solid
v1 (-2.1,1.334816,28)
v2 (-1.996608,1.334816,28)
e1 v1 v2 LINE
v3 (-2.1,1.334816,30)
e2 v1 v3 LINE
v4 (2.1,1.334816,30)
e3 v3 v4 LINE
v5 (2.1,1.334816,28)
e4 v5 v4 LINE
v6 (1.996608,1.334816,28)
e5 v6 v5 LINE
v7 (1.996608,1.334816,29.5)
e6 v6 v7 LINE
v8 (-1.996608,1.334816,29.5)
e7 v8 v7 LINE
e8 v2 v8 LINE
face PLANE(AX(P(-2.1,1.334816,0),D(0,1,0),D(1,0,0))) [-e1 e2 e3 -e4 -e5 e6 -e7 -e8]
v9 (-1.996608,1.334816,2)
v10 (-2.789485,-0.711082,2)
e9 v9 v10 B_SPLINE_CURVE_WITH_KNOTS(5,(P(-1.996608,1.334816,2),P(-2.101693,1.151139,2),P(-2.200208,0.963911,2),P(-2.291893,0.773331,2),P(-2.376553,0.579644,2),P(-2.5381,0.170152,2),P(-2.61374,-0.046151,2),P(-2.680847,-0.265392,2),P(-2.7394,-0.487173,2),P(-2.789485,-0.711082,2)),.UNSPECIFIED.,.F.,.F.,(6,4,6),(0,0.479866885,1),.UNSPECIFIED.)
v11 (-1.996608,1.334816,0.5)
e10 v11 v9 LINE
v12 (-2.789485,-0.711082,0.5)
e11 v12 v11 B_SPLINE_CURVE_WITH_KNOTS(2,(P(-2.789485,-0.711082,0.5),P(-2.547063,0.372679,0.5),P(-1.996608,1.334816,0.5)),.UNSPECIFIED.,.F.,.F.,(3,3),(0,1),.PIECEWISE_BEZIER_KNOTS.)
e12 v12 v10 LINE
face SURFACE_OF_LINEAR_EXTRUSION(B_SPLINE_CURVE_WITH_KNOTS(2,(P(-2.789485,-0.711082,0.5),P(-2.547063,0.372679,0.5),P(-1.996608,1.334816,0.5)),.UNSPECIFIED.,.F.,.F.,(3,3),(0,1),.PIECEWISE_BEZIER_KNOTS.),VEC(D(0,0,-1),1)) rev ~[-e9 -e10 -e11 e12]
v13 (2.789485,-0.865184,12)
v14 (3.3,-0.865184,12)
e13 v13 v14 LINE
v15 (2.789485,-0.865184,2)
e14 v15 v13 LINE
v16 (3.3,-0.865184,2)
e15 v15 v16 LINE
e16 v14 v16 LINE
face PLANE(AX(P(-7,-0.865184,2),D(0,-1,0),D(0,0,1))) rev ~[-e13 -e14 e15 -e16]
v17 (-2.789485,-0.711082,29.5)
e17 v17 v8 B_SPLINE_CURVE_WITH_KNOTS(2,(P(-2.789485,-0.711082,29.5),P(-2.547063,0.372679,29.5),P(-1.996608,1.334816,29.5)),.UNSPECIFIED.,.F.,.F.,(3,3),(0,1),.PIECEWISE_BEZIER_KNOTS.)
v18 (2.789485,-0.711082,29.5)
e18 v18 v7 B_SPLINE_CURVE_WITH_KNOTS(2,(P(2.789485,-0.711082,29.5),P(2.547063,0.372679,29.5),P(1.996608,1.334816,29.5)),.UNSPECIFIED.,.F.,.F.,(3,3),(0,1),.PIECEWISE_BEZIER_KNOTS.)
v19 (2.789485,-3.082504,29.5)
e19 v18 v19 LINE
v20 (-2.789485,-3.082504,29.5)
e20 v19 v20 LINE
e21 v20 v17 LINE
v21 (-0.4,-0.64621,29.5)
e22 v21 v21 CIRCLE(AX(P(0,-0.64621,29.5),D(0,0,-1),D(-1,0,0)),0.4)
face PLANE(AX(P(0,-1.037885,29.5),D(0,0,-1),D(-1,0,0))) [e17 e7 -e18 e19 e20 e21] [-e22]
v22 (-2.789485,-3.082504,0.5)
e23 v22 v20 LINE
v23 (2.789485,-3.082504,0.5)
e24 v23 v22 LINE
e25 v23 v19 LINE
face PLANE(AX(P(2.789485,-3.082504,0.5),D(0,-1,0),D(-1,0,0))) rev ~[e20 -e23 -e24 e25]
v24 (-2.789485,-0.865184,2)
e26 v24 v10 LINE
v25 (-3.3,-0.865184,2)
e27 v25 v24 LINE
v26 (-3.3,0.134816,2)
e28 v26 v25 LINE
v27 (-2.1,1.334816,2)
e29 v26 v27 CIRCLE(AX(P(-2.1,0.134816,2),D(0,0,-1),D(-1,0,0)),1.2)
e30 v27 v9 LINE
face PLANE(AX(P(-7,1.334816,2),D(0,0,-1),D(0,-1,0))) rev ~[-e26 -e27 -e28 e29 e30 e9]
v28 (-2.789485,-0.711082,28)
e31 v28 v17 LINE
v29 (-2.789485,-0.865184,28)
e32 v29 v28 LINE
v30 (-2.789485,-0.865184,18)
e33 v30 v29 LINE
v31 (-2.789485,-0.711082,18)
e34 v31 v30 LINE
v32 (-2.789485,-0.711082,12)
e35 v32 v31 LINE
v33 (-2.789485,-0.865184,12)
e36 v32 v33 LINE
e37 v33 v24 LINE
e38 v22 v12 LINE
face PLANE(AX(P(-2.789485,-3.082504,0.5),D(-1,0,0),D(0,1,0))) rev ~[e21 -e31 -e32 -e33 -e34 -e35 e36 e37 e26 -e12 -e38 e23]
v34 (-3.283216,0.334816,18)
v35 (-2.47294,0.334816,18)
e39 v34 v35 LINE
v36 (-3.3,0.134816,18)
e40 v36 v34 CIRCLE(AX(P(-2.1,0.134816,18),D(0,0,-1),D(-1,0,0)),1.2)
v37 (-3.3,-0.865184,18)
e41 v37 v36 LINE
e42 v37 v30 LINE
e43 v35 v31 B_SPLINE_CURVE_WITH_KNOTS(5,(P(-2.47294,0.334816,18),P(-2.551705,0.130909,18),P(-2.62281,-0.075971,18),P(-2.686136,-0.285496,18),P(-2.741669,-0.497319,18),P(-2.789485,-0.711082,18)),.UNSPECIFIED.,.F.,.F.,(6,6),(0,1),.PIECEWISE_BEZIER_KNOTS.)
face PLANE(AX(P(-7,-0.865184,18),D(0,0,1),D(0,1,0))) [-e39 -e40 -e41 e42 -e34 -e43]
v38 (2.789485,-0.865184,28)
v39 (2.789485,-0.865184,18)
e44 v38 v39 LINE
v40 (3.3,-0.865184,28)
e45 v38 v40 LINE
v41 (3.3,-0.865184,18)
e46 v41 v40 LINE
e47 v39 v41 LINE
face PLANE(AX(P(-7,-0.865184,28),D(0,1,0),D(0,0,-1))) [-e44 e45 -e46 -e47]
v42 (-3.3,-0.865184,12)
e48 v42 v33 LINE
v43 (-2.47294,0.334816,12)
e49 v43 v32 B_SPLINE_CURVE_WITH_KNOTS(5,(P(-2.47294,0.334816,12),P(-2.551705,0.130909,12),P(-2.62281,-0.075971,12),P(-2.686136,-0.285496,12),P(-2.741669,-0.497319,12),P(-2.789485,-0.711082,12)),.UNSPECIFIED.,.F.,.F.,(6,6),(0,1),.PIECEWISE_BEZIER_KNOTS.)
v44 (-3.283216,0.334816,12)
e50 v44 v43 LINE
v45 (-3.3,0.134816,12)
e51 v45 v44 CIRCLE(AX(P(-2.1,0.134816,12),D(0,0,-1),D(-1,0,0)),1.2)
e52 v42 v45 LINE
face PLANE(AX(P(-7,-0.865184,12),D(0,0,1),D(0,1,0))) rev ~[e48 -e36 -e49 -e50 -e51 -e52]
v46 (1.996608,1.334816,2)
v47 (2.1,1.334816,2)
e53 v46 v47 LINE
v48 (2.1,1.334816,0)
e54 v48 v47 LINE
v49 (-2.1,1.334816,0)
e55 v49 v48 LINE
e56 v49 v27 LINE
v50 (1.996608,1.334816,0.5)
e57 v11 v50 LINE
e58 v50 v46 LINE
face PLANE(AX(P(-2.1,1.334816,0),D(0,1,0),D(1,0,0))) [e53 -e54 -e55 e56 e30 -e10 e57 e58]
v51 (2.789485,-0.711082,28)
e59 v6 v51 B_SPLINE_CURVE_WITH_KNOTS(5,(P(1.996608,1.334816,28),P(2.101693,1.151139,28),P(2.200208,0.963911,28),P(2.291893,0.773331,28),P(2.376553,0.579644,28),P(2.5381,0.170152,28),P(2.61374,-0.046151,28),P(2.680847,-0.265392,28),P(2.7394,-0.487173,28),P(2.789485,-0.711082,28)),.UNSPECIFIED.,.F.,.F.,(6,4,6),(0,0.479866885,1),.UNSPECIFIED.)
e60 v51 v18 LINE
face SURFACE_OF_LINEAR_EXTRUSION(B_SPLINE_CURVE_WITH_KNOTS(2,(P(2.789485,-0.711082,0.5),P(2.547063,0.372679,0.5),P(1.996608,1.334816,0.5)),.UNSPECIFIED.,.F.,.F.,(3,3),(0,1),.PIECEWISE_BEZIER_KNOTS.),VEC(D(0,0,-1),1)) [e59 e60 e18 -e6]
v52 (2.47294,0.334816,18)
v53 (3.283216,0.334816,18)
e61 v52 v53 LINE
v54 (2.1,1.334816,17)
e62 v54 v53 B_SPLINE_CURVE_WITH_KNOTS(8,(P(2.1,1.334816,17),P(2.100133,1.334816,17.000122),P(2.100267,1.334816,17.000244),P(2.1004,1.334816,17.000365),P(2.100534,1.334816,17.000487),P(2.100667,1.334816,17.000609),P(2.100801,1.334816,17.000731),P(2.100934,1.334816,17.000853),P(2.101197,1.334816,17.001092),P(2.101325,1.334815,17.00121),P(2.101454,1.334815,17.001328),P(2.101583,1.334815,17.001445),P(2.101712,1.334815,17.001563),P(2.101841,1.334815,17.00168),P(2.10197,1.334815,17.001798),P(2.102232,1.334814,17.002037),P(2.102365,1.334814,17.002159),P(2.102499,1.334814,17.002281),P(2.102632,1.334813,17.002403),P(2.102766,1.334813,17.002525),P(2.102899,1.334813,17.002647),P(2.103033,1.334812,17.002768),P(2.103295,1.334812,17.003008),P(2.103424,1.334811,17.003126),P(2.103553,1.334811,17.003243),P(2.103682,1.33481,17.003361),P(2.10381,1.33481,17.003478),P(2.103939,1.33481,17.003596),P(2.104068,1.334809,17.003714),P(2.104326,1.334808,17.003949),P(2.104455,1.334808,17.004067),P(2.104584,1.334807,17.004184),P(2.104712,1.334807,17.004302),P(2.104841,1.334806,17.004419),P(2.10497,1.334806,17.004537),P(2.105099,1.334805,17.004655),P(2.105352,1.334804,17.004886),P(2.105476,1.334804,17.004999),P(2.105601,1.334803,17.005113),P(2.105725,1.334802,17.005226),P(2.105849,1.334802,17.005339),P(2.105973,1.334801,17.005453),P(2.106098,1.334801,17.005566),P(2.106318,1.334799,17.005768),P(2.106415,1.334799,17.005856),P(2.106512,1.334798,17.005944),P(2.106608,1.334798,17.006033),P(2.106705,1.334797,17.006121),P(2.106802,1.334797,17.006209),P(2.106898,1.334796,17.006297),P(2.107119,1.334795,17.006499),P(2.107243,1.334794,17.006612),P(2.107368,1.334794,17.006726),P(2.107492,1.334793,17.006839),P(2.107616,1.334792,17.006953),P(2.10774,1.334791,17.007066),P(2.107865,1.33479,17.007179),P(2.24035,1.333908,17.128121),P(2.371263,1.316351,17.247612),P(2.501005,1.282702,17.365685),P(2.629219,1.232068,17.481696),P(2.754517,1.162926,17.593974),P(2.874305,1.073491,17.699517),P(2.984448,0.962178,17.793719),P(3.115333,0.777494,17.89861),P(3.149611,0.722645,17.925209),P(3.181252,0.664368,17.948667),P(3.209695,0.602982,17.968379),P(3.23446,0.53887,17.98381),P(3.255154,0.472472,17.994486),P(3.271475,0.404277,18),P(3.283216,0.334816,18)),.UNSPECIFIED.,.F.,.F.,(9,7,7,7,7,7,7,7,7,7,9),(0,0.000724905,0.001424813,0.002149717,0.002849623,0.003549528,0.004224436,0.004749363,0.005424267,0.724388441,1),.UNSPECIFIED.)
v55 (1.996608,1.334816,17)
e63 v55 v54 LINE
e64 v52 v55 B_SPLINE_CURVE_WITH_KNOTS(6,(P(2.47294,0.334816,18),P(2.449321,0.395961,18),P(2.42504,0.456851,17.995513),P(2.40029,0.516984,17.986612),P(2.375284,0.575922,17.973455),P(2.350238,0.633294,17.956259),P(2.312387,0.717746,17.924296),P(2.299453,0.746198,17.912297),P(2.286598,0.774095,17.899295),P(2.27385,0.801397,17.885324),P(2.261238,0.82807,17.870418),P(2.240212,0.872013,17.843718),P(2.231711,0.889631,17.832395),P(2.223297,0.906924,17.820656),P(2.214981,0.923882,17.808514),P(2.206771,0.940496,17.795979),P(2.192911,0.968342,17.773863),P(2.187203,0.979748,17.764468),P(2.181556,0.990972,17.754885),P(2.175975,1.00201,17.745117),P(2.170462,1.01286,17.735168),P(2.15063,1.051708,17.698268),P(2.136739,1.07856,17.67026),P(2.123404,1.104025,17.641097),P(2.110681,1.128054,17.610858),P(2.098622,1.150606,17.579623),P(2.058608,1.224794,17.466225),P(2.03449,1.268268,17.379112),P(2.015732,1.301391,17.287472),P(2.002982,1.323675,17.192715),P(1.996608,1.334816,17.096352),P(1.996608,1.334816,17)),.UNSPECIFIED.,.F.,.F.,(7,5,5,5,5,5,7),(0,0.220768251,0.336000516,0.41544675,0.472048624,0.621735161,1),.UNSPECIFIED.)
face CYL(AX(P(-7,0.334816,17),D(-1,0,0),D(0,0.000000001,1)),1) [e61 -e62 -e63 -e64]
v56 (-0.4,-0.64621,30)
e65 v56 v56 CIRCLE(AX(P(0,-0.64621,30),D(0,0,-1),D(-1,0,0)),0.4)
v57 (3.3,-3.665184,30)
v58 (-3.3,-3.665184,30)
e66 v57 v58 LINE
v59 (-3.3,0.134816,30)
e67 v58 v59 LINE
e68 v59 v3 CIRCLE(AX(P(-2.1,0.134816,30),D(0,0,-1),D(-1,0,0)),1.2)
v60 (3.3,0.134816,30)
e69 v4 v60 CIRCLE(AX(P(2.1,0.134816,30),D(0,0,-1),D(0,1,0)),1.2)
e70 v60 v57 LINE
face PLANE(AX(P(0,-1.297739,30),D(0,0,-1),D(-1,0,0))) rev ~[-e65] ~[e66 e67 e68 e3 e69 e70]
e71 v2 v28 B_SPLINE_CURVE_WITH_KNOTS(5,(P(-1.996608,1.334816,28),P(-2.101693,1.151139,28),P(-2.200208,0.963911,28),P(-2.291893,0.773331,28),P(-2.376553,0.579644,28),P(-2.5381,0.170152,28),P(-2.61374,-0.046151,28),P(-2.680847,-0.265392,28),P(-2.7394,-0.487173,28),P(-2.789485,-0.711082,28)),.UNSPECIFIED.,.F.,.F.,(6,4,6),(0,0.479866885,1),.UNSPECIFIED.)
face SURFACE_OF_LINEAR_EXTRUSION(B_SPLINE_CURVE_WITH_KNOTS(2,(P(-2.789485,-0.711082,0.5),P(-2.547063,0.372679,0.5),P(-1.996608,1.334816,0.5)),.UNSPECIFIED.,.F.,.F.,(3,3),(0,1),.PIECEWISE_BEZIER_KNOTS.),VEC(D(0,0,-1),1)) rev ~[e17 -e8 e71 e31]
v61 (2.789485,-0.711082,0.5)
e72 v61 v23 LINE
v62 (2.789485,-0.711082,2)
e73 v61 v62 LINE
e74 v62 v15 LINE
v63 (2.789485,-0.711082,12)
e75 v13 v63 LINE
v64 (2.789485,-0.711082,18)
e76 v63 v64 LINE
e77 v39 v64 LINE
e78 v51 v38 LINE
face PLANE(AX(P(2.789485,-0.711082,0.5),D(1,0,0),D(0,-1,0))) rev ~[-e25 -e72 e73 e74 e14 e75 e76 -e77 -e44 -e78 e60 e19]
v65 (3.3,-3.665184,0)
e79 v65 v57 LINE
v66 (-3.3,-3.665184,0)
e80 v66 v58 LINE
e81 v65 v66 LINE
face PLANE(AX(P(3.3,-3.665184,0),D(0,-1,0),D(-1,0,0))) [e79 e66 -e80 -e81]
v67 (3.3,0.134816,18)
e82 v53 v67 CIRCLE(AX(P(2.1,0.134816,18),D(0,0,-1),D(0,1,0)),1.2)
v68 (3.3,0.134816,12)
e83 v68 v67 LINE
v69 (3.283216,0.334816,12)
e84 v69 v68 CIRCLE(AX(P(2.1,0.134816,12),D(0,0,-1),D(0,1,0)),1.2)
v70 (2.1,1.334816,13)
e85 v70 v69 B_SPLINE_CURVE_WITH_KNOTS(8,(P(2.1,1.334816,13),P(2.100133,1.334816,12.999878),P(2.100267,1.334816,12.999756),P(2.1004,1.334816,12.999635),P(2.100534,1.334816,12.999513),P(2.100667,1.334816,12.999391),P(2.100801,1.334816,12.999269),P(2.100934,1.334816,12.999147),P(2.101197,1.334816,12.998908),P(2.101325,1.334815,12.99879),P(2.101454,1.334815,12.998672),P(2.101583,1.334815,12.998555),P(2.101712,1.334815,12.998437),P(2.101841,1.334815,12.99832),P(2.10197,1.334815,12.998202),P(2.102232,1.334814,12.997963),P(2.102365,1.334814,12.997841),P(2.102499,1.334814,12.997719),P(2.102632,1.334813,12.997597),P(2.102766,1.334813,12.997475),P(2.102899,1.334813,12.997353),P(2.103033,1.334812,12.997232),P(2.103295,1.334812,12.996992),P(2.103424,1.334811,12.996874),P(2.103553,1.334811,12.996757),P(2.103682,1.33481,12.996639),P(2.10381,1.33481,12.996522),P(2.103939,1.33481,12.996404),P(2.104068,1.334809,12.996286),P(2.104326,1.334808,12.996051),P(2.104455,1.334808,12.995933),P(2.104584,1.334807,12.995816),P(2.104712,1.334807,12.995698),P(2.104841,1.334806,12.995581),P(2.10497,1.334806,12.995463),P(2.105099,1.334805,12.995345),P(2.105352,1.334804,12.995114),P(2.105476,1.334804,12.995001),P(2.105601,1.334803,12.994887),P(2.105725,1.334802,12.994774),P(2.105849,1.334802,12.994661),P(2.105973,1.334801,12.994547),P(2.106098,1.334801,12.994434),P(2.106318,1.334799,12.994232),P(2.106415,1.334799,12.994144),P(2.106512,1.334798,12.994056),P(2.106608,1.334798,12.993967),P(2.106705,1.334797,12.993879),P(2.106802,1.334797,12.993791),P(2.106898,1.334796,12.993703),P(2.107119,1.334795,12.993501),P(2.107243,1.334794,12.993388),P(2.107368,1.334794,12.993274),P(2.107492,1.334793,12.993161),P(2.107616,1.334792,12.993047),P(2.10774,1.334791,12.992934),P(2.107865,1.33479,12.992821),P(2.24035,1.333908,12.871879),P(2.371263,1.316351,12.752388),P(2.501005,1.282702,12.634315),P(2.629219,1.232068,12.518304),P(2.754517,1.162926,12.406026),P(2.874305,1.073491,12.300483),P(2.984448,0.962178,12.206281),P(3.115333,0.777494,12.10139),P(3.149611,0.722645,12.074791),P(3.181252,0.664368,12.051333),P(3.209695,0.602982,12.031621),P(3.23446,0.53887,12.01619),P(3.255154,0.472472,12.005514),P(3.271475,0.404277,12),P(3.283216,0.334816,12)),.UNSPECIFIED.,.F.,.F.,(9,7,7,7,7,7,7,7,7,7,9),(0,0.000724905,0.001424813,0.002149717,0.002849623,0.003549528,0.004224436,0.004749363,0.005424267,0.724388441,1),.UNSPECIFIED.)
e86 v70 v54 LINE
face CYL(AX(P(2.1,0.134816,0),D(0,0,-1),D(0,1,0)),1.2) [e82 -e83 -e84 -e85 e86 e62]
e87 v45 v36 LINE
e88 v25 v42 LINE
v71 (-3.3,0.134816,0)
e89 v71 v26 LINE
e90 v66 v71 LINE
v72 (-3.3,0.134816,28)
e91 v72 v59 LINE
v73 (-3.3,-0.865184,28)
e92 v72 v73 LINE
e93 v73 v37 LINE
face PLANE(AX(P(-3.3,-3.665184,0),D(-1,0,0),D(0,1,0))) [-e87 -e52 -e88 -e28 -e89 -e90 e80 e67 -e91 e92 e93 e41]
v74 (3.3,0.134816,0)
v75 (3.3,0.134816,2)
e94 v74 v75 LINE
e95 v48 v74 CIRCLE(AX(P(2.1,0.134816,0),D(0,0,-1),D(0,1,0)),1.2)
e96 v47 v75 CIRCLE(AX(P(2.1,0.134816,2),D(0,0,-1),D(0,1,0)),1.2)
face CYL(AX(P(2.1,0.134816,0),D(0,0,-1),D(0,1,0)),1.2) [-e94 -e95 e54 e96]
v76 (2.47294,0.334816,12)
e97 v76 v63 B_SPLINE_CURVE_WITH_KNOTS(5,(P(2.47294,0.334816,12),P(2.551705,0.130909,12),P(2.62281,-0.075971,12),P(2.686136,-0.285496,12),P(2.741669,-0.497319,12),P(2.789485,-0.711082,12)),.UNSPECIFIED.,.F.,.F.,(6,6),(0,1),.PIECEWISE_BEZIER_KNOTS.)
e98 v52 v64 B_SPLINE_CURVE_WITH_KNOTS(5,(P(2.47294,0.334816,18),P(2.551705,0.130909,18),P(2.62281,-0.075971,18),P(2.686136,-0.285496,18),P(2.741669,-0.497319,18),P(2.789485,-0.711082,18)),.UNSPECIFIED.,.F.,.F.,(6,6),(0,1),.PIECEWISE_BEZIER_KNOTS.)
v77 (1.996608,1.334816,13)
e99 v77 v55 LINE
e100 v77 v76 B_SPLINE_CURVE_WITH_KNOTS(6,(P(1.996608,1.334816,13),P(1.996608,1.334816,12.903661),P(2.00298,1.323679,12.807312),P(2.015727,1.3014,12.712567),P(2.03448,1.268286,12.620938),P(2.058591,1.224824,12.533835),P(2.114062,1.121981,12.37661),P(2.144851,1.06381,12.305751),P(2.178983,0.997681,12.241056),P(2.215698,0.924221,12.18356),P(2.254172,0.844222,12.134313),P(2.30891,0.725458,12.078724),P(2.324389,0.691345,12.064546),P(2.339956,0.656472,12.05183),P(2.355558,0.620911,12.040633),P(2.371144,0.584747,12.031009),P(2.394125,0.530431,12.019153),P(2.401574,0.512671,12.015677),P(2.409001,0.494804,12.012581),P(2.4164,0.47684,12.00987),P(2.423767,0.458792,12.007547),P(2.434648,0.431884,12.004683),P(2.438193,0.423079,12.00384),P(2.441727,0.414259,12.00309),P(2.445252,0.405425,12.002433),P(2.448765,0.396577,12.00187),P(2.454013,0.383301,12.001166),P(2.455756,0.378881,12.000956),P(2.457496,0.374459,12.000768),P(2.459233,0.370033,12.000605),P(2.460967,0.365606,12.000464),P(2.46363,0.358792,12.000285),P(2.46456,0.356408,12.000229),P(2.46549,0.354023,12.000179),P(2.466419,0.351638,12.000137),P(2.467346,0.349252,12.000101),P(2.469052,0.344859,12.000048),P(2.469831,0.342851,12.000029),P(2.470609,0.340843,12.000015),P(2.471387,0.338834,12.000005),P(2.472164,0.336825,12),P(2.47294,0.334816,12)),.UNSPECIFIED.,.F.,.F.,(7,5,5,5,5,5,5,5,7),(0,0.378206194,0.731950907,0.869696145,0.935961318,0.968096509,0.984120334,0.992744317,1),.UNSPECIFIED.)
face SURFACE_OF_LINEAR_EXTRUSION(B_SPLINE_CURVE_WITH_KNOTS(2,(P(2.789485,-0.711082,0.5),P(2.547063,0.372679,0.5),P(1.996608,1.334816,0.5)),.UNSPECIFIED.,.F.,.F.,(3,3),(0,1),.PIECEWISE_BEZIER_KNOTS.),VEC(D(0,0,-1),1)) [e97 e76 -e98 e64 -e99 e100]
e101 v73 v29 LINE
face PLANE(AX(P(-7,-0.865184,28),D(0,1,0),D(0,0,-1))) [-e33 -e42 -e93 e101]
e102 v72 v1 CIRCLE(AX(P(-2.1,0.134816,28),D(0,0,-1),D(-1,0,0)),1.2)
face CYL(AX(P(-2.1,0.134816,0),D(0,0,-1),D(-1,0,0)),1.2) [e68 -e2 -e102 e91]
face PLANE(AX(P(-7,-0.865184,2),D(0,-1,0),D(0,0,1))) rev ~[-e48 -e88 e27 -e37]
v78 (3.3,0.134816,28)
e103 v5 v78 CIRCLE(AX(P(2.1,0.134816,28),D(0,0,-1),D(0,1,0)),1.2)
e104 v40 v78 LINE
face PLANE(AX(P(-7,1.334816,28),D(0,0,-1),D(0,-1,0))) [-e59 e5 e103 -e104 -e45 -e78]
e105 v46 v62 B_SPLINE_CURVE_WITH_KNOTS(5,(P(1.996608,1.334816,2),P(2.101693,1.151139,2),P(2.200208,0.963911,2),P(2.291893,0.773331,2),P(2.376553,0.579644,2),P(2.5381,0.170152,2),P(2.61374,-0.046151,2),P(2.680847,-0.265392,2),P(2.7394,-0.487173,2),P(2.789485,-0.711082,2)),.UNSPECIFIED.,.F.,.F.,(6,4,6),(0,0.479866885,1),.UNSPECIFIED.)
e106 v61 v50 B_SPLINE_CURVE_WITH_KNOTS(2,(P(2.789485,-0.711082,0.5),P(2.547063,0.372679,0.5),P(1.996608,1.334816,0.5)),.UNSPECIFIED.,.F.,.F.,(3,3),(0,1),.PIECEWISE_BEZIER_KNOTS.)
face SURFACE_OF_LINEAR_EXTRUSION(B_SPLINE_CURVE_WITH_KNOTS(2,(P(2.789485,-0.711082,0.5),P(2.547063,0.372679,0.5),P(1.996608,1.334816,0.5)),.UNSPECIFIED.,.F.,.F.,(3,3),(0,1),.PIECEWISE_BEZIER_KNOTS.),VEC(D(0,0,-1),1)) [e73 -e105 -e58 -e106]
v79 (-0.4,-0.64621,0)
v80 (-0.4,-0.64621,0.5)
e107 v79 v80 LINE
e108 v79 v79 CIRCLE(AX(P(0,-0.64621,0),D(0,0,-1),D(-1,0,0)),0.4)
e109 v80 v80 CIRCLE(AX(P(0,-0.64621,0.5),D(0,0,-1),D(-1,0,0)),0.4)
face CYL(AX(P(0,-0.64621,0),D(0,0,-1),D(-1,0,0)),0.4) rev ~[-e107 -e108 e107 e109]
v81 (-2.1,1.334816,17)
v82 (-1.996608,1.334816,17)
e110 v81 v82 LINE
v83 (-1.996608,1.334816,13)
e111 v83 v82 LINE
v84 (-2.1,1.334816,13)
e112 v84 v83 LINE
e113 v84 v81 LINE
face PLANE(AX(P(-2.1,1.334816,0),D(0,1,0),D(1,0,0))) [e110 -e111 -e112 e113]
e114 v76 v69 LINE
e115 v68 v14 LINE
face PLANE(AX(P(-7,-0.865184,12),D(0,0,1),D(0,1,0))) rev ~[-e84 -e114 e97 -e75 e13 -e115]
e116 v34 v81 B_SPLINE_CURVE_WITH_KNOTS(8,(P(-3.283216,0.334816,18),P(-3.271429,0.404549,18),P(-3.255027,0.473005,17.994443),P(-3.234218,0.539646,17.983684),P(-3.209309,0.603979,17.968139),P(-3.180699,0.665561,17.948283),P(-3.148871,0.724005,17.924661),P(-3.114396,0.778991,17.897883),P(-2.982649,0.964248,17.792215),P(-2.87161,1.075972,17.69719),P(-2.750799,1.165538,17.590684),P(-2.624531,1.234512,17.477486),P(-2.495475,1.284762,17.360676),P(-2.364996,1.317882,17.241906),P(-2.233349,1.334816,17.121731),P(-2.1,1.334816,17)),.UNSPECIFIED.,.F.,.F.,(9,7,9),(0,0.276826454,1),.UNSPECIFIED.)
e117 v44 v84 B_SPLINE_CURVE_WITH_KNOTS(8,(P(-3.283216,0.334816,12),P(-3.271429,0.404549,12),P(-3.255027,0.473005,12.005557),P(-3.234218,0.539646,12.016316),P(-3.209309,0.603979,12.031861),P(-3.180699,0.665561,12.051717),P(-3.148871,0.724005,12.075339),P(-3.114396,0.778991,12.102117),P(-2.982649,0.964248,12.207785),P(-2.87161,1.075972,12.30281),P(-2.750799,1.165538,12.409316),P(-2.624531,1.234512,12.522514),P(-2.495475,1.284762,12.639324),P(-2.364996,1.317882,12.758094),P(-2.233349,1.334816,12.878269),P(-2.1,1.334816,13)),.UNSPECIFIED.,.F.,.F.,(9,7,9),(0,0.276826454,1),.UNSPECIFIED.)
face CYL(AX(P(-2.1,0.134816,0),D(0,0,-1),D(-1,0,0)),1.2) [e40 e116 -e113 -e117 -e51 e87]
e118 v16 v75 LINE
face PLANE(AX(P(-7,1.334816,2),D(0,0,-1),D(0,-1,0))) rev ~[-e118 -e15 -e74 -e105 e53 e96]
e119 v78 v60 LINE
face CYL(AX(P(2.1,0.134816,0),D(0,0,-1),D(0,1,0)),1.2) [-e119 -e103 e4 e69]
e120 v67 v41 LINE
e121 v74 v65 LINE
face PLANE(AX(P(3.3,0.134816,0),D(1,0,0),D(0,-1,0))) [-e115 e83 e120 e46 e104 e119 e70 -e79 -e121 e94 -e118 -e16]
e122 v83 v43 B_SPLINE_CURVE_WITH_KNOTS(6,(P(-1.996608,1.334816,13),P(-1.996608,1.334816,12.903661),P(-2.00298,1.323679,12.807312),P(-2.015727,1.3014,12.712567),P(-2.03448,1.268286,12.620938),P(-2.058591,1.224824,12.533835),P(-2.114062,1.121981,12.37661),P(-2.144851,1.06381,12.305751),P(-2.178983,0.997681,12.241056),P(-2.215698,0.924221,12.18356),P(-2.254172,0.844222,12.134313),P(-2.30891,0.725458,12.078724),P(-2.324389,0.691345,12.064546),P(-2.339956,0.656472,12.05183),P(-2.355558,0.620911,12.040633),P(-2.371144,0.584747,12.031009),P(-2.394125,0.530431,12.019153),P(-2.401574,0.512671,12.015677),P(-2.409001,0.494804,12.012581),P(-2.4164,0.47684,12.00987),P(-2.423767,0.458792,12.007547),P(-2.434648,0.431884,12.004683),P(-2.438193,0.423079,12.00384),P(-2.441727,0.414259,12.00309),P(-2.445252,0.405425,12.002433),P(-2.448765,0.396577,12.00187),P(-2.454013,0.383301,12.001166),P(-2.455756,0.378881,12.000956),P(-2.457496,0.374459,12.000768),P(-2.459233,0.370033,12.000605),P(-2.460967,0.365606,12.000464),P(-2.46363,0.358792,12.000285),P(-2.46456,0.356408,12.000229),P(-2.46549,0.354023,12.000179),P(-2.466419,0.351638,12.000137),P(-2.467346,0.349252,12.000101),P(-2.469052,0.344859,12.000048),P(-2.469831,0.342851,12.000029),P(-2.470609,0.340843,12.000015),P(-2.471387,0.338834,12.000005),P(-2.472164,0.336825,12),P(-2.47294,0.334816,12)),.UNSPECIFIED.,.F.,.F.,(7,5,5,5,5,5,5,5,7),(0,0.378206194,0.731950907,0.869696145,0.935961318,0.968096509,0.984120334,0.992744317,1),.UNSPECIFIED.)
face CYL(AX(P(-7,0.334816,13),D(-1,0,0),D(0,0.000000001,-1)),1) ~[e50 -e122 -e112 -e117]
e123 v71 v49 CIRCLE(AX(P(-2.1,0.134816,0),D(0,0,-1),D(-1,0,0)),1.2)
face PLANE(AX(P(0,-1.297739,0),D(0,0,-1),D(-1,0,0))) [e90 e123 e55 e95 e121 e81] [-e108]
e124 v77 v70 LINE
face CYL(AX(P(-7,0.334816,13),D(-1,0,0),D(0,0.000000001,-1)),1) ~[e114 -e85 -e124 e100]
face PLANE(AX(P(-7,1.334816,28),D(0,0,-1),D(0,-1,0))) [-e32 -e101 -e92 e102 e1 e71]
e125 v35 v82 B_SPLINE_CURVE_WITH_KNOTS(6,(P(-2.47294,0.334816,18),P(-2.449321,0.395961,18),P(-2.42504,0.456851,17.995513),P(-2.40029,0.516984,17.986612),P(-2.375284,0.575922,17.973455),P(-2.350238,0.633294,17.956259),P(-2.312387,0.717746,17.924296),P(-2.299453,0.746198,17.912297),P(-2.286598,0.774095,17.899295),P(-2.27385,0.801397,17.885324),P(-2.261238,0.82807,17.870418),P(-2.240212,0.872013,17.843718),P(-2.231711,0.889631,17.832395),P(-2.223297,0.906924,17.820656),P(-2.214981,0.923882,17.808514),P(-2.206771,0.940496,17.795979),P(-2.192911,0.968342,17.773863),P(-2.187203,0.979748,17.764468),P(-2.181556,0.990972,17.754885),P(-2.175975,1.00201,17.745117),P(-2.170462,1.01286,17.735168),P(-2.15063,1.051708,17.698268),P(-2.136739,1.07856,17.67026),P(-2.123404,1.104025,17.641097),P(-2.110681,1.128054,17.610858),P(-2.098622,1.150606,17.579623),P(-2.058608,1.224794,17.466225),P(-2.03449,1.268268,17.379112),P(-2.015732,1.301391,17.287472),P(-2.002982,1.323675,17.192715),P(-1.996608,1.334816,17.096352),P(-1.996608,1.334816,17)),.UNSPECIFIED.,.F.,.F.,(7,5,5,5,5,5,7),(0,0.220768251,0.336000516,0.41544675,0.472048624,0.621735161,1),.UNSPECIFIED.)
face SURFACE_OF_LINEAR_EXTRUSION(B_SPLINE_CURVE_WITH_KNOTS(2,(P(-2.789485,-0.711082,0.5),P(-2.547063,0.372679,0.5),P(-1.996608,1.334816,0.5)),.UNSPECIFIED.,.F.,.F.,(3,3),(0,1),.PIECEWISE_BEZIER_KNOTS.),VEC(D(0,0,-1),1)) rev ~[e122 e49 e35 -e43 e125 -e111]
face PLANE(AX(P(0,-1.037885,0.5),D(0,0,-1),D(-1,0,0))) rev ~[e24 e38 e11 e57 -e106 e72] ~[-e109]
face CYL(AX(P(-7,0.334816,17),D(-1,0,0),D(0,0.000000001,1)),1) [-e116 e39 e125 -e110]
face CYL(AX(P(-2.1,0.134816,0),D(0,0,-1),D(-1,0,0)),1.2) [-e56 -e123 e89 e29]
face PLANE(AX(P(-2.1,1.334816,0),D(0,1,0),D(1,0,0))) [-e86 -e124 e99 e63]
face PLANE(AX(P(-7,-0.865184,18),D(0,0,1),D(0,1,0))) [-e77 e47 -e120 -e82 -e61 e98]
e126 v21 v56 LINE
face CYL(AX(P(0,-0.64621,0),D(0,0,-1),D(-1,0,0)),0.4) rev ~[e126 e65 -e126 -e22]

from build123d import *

# Parameters (mm, degrees)
BOSS_EXTRUDE1_DEPTH     = 30
CUT_EXTRUDE1_DEPTH      = 20
CUT_EXTRUDE1_DEPTH_BACK = 7
CUT_EXTRUDE3_START      = -0.5
CUT_EXTRUDE3_DEPTH      = 29
SKETCH4_R               = 0.4
CUT_EXTRUDE4_DEPTH      = 33


with BuildPart() as part:
    # Sketch1 → Boss-Extrude1 (new body)
    with BuildSketch(Plane.XY):
        with BuildLine():
            Line((-2.1, 1.334816112), (2.1, 1.334816112))
            ThreePointArc((2.1, 1.334816112), (2.948528137, 0.98334425), (3.3, 0.134816112))
            Line((3.3, 0.134816112), (3.3, -3.665183888))
            Line((3.3, -3.665183888), (-3.3, -3.665183888))
            Line((-3.3, -3.665183888), (-3.3, 0.134816112))
            ThreePointArc((-3.3, 0.134816112), (-2.948528137, 0.98334425), (-2.1, 1.334816112))
        make_face()
    extrude(amount=BOSS_EXTRUDE1_DEPTH)

    # Sketch2 → Cut-Extrude1 (cut, two sides: drawn at the far end of the back side and taken through both)
    with BuildSketch(Plane(origin=(0, 0, 0), x_dir=(0, 0, -1), z_dir=(1, 0, 0)).offset(-CUT_EXTRUDE1_DEPTH_BACK)):
        with BuildLine():
            Line((-2, 1.334816112), (-2, -0.865183888))
            Line((-2, -0.865183888), (-12, -0.865183888))
            Line((-12, -0.865183888), (-12, 0.334816112))
            ThreePointArc((-12, 0.334816112), (-12.292893219, 1.041922893), (-13, 1.334816112))
            Line((-13, 1.334816112), (-2, 1.334816112))
        make_face()
        with BuildLine():
            Line((-17, 1.334816112), (-28, 1.334816112))
            Line((-28, 1.334816112), (-28, -0.865183888))
            Line((-28, -0.865183888), (-18, -0.865183888))
            Line((-18, -0.865183888), (-18, 0.334816112))
            ThreePointArc((-18, 0.334816112), (-17.707106781, 1.041922893), (-17, 1.334816112))
        make_face()
    extrude(amount=CUT_EXTRUDE1_DEPTH + CUT_EXTRUDE1_DEPTH_BACK, mode=Mode.SUBTRACT)

    # Sketch3 → Cut-Extrude3 (cut)
    with BuildSketch(Plane(origin=(0, 0, 0), x_dir=(-1, 0, 0), z_dir=(0, 0, -1)).offset(CUT_EXTRUDE3_START)):
        with BuildLine():
            Line((-2.789484842, -3.082504219), (2.789484842, -3.082504219))
            Line((2.789484842, -3.082504219), (2.789484842, -0.711081704))
            add(Edge.make_bspline(
                [(2.789484842, -0.711081704), (2.547062941, 0.37267851), (1.996608014, 1.334816112)],
                knots=[0, 0, 0, 1, 1, 1], degree=2))
            Line((1.996608014, 1.334816112), (-1.996608014, 1.334816112))
            add(Edge.make_bspline(
                [(-2.789484842, -0.711081704), (-2.547062941, 0.37267851), (-1.996608014, 1.334816112)],
                knots=[0, 0, 0, 1, 1, 1], degree=2))
            Line((-2.789484842, -0.711081704), (-2.789484842, -3.082504219))
        make_face()
    extrude(amount=-CUT_EXTRUDE3_DEPTH, mode=Mode.SUBTRACT)

    # Sketch4 → Cut-Extrude4 (cut)
    with BuildSketch(Plane(origin=(0, 0, 0), x_dir=(-1, 0, 0), z_dir=(0, 0, -1))):
        with Locations((0, -0.646209964)):
            Circle(SKETCH4_R)
    extrude(amount=-CUT_EXTRUDE4_DEPTH, mode=Mode.SUBTRACT)


solid = part.part
